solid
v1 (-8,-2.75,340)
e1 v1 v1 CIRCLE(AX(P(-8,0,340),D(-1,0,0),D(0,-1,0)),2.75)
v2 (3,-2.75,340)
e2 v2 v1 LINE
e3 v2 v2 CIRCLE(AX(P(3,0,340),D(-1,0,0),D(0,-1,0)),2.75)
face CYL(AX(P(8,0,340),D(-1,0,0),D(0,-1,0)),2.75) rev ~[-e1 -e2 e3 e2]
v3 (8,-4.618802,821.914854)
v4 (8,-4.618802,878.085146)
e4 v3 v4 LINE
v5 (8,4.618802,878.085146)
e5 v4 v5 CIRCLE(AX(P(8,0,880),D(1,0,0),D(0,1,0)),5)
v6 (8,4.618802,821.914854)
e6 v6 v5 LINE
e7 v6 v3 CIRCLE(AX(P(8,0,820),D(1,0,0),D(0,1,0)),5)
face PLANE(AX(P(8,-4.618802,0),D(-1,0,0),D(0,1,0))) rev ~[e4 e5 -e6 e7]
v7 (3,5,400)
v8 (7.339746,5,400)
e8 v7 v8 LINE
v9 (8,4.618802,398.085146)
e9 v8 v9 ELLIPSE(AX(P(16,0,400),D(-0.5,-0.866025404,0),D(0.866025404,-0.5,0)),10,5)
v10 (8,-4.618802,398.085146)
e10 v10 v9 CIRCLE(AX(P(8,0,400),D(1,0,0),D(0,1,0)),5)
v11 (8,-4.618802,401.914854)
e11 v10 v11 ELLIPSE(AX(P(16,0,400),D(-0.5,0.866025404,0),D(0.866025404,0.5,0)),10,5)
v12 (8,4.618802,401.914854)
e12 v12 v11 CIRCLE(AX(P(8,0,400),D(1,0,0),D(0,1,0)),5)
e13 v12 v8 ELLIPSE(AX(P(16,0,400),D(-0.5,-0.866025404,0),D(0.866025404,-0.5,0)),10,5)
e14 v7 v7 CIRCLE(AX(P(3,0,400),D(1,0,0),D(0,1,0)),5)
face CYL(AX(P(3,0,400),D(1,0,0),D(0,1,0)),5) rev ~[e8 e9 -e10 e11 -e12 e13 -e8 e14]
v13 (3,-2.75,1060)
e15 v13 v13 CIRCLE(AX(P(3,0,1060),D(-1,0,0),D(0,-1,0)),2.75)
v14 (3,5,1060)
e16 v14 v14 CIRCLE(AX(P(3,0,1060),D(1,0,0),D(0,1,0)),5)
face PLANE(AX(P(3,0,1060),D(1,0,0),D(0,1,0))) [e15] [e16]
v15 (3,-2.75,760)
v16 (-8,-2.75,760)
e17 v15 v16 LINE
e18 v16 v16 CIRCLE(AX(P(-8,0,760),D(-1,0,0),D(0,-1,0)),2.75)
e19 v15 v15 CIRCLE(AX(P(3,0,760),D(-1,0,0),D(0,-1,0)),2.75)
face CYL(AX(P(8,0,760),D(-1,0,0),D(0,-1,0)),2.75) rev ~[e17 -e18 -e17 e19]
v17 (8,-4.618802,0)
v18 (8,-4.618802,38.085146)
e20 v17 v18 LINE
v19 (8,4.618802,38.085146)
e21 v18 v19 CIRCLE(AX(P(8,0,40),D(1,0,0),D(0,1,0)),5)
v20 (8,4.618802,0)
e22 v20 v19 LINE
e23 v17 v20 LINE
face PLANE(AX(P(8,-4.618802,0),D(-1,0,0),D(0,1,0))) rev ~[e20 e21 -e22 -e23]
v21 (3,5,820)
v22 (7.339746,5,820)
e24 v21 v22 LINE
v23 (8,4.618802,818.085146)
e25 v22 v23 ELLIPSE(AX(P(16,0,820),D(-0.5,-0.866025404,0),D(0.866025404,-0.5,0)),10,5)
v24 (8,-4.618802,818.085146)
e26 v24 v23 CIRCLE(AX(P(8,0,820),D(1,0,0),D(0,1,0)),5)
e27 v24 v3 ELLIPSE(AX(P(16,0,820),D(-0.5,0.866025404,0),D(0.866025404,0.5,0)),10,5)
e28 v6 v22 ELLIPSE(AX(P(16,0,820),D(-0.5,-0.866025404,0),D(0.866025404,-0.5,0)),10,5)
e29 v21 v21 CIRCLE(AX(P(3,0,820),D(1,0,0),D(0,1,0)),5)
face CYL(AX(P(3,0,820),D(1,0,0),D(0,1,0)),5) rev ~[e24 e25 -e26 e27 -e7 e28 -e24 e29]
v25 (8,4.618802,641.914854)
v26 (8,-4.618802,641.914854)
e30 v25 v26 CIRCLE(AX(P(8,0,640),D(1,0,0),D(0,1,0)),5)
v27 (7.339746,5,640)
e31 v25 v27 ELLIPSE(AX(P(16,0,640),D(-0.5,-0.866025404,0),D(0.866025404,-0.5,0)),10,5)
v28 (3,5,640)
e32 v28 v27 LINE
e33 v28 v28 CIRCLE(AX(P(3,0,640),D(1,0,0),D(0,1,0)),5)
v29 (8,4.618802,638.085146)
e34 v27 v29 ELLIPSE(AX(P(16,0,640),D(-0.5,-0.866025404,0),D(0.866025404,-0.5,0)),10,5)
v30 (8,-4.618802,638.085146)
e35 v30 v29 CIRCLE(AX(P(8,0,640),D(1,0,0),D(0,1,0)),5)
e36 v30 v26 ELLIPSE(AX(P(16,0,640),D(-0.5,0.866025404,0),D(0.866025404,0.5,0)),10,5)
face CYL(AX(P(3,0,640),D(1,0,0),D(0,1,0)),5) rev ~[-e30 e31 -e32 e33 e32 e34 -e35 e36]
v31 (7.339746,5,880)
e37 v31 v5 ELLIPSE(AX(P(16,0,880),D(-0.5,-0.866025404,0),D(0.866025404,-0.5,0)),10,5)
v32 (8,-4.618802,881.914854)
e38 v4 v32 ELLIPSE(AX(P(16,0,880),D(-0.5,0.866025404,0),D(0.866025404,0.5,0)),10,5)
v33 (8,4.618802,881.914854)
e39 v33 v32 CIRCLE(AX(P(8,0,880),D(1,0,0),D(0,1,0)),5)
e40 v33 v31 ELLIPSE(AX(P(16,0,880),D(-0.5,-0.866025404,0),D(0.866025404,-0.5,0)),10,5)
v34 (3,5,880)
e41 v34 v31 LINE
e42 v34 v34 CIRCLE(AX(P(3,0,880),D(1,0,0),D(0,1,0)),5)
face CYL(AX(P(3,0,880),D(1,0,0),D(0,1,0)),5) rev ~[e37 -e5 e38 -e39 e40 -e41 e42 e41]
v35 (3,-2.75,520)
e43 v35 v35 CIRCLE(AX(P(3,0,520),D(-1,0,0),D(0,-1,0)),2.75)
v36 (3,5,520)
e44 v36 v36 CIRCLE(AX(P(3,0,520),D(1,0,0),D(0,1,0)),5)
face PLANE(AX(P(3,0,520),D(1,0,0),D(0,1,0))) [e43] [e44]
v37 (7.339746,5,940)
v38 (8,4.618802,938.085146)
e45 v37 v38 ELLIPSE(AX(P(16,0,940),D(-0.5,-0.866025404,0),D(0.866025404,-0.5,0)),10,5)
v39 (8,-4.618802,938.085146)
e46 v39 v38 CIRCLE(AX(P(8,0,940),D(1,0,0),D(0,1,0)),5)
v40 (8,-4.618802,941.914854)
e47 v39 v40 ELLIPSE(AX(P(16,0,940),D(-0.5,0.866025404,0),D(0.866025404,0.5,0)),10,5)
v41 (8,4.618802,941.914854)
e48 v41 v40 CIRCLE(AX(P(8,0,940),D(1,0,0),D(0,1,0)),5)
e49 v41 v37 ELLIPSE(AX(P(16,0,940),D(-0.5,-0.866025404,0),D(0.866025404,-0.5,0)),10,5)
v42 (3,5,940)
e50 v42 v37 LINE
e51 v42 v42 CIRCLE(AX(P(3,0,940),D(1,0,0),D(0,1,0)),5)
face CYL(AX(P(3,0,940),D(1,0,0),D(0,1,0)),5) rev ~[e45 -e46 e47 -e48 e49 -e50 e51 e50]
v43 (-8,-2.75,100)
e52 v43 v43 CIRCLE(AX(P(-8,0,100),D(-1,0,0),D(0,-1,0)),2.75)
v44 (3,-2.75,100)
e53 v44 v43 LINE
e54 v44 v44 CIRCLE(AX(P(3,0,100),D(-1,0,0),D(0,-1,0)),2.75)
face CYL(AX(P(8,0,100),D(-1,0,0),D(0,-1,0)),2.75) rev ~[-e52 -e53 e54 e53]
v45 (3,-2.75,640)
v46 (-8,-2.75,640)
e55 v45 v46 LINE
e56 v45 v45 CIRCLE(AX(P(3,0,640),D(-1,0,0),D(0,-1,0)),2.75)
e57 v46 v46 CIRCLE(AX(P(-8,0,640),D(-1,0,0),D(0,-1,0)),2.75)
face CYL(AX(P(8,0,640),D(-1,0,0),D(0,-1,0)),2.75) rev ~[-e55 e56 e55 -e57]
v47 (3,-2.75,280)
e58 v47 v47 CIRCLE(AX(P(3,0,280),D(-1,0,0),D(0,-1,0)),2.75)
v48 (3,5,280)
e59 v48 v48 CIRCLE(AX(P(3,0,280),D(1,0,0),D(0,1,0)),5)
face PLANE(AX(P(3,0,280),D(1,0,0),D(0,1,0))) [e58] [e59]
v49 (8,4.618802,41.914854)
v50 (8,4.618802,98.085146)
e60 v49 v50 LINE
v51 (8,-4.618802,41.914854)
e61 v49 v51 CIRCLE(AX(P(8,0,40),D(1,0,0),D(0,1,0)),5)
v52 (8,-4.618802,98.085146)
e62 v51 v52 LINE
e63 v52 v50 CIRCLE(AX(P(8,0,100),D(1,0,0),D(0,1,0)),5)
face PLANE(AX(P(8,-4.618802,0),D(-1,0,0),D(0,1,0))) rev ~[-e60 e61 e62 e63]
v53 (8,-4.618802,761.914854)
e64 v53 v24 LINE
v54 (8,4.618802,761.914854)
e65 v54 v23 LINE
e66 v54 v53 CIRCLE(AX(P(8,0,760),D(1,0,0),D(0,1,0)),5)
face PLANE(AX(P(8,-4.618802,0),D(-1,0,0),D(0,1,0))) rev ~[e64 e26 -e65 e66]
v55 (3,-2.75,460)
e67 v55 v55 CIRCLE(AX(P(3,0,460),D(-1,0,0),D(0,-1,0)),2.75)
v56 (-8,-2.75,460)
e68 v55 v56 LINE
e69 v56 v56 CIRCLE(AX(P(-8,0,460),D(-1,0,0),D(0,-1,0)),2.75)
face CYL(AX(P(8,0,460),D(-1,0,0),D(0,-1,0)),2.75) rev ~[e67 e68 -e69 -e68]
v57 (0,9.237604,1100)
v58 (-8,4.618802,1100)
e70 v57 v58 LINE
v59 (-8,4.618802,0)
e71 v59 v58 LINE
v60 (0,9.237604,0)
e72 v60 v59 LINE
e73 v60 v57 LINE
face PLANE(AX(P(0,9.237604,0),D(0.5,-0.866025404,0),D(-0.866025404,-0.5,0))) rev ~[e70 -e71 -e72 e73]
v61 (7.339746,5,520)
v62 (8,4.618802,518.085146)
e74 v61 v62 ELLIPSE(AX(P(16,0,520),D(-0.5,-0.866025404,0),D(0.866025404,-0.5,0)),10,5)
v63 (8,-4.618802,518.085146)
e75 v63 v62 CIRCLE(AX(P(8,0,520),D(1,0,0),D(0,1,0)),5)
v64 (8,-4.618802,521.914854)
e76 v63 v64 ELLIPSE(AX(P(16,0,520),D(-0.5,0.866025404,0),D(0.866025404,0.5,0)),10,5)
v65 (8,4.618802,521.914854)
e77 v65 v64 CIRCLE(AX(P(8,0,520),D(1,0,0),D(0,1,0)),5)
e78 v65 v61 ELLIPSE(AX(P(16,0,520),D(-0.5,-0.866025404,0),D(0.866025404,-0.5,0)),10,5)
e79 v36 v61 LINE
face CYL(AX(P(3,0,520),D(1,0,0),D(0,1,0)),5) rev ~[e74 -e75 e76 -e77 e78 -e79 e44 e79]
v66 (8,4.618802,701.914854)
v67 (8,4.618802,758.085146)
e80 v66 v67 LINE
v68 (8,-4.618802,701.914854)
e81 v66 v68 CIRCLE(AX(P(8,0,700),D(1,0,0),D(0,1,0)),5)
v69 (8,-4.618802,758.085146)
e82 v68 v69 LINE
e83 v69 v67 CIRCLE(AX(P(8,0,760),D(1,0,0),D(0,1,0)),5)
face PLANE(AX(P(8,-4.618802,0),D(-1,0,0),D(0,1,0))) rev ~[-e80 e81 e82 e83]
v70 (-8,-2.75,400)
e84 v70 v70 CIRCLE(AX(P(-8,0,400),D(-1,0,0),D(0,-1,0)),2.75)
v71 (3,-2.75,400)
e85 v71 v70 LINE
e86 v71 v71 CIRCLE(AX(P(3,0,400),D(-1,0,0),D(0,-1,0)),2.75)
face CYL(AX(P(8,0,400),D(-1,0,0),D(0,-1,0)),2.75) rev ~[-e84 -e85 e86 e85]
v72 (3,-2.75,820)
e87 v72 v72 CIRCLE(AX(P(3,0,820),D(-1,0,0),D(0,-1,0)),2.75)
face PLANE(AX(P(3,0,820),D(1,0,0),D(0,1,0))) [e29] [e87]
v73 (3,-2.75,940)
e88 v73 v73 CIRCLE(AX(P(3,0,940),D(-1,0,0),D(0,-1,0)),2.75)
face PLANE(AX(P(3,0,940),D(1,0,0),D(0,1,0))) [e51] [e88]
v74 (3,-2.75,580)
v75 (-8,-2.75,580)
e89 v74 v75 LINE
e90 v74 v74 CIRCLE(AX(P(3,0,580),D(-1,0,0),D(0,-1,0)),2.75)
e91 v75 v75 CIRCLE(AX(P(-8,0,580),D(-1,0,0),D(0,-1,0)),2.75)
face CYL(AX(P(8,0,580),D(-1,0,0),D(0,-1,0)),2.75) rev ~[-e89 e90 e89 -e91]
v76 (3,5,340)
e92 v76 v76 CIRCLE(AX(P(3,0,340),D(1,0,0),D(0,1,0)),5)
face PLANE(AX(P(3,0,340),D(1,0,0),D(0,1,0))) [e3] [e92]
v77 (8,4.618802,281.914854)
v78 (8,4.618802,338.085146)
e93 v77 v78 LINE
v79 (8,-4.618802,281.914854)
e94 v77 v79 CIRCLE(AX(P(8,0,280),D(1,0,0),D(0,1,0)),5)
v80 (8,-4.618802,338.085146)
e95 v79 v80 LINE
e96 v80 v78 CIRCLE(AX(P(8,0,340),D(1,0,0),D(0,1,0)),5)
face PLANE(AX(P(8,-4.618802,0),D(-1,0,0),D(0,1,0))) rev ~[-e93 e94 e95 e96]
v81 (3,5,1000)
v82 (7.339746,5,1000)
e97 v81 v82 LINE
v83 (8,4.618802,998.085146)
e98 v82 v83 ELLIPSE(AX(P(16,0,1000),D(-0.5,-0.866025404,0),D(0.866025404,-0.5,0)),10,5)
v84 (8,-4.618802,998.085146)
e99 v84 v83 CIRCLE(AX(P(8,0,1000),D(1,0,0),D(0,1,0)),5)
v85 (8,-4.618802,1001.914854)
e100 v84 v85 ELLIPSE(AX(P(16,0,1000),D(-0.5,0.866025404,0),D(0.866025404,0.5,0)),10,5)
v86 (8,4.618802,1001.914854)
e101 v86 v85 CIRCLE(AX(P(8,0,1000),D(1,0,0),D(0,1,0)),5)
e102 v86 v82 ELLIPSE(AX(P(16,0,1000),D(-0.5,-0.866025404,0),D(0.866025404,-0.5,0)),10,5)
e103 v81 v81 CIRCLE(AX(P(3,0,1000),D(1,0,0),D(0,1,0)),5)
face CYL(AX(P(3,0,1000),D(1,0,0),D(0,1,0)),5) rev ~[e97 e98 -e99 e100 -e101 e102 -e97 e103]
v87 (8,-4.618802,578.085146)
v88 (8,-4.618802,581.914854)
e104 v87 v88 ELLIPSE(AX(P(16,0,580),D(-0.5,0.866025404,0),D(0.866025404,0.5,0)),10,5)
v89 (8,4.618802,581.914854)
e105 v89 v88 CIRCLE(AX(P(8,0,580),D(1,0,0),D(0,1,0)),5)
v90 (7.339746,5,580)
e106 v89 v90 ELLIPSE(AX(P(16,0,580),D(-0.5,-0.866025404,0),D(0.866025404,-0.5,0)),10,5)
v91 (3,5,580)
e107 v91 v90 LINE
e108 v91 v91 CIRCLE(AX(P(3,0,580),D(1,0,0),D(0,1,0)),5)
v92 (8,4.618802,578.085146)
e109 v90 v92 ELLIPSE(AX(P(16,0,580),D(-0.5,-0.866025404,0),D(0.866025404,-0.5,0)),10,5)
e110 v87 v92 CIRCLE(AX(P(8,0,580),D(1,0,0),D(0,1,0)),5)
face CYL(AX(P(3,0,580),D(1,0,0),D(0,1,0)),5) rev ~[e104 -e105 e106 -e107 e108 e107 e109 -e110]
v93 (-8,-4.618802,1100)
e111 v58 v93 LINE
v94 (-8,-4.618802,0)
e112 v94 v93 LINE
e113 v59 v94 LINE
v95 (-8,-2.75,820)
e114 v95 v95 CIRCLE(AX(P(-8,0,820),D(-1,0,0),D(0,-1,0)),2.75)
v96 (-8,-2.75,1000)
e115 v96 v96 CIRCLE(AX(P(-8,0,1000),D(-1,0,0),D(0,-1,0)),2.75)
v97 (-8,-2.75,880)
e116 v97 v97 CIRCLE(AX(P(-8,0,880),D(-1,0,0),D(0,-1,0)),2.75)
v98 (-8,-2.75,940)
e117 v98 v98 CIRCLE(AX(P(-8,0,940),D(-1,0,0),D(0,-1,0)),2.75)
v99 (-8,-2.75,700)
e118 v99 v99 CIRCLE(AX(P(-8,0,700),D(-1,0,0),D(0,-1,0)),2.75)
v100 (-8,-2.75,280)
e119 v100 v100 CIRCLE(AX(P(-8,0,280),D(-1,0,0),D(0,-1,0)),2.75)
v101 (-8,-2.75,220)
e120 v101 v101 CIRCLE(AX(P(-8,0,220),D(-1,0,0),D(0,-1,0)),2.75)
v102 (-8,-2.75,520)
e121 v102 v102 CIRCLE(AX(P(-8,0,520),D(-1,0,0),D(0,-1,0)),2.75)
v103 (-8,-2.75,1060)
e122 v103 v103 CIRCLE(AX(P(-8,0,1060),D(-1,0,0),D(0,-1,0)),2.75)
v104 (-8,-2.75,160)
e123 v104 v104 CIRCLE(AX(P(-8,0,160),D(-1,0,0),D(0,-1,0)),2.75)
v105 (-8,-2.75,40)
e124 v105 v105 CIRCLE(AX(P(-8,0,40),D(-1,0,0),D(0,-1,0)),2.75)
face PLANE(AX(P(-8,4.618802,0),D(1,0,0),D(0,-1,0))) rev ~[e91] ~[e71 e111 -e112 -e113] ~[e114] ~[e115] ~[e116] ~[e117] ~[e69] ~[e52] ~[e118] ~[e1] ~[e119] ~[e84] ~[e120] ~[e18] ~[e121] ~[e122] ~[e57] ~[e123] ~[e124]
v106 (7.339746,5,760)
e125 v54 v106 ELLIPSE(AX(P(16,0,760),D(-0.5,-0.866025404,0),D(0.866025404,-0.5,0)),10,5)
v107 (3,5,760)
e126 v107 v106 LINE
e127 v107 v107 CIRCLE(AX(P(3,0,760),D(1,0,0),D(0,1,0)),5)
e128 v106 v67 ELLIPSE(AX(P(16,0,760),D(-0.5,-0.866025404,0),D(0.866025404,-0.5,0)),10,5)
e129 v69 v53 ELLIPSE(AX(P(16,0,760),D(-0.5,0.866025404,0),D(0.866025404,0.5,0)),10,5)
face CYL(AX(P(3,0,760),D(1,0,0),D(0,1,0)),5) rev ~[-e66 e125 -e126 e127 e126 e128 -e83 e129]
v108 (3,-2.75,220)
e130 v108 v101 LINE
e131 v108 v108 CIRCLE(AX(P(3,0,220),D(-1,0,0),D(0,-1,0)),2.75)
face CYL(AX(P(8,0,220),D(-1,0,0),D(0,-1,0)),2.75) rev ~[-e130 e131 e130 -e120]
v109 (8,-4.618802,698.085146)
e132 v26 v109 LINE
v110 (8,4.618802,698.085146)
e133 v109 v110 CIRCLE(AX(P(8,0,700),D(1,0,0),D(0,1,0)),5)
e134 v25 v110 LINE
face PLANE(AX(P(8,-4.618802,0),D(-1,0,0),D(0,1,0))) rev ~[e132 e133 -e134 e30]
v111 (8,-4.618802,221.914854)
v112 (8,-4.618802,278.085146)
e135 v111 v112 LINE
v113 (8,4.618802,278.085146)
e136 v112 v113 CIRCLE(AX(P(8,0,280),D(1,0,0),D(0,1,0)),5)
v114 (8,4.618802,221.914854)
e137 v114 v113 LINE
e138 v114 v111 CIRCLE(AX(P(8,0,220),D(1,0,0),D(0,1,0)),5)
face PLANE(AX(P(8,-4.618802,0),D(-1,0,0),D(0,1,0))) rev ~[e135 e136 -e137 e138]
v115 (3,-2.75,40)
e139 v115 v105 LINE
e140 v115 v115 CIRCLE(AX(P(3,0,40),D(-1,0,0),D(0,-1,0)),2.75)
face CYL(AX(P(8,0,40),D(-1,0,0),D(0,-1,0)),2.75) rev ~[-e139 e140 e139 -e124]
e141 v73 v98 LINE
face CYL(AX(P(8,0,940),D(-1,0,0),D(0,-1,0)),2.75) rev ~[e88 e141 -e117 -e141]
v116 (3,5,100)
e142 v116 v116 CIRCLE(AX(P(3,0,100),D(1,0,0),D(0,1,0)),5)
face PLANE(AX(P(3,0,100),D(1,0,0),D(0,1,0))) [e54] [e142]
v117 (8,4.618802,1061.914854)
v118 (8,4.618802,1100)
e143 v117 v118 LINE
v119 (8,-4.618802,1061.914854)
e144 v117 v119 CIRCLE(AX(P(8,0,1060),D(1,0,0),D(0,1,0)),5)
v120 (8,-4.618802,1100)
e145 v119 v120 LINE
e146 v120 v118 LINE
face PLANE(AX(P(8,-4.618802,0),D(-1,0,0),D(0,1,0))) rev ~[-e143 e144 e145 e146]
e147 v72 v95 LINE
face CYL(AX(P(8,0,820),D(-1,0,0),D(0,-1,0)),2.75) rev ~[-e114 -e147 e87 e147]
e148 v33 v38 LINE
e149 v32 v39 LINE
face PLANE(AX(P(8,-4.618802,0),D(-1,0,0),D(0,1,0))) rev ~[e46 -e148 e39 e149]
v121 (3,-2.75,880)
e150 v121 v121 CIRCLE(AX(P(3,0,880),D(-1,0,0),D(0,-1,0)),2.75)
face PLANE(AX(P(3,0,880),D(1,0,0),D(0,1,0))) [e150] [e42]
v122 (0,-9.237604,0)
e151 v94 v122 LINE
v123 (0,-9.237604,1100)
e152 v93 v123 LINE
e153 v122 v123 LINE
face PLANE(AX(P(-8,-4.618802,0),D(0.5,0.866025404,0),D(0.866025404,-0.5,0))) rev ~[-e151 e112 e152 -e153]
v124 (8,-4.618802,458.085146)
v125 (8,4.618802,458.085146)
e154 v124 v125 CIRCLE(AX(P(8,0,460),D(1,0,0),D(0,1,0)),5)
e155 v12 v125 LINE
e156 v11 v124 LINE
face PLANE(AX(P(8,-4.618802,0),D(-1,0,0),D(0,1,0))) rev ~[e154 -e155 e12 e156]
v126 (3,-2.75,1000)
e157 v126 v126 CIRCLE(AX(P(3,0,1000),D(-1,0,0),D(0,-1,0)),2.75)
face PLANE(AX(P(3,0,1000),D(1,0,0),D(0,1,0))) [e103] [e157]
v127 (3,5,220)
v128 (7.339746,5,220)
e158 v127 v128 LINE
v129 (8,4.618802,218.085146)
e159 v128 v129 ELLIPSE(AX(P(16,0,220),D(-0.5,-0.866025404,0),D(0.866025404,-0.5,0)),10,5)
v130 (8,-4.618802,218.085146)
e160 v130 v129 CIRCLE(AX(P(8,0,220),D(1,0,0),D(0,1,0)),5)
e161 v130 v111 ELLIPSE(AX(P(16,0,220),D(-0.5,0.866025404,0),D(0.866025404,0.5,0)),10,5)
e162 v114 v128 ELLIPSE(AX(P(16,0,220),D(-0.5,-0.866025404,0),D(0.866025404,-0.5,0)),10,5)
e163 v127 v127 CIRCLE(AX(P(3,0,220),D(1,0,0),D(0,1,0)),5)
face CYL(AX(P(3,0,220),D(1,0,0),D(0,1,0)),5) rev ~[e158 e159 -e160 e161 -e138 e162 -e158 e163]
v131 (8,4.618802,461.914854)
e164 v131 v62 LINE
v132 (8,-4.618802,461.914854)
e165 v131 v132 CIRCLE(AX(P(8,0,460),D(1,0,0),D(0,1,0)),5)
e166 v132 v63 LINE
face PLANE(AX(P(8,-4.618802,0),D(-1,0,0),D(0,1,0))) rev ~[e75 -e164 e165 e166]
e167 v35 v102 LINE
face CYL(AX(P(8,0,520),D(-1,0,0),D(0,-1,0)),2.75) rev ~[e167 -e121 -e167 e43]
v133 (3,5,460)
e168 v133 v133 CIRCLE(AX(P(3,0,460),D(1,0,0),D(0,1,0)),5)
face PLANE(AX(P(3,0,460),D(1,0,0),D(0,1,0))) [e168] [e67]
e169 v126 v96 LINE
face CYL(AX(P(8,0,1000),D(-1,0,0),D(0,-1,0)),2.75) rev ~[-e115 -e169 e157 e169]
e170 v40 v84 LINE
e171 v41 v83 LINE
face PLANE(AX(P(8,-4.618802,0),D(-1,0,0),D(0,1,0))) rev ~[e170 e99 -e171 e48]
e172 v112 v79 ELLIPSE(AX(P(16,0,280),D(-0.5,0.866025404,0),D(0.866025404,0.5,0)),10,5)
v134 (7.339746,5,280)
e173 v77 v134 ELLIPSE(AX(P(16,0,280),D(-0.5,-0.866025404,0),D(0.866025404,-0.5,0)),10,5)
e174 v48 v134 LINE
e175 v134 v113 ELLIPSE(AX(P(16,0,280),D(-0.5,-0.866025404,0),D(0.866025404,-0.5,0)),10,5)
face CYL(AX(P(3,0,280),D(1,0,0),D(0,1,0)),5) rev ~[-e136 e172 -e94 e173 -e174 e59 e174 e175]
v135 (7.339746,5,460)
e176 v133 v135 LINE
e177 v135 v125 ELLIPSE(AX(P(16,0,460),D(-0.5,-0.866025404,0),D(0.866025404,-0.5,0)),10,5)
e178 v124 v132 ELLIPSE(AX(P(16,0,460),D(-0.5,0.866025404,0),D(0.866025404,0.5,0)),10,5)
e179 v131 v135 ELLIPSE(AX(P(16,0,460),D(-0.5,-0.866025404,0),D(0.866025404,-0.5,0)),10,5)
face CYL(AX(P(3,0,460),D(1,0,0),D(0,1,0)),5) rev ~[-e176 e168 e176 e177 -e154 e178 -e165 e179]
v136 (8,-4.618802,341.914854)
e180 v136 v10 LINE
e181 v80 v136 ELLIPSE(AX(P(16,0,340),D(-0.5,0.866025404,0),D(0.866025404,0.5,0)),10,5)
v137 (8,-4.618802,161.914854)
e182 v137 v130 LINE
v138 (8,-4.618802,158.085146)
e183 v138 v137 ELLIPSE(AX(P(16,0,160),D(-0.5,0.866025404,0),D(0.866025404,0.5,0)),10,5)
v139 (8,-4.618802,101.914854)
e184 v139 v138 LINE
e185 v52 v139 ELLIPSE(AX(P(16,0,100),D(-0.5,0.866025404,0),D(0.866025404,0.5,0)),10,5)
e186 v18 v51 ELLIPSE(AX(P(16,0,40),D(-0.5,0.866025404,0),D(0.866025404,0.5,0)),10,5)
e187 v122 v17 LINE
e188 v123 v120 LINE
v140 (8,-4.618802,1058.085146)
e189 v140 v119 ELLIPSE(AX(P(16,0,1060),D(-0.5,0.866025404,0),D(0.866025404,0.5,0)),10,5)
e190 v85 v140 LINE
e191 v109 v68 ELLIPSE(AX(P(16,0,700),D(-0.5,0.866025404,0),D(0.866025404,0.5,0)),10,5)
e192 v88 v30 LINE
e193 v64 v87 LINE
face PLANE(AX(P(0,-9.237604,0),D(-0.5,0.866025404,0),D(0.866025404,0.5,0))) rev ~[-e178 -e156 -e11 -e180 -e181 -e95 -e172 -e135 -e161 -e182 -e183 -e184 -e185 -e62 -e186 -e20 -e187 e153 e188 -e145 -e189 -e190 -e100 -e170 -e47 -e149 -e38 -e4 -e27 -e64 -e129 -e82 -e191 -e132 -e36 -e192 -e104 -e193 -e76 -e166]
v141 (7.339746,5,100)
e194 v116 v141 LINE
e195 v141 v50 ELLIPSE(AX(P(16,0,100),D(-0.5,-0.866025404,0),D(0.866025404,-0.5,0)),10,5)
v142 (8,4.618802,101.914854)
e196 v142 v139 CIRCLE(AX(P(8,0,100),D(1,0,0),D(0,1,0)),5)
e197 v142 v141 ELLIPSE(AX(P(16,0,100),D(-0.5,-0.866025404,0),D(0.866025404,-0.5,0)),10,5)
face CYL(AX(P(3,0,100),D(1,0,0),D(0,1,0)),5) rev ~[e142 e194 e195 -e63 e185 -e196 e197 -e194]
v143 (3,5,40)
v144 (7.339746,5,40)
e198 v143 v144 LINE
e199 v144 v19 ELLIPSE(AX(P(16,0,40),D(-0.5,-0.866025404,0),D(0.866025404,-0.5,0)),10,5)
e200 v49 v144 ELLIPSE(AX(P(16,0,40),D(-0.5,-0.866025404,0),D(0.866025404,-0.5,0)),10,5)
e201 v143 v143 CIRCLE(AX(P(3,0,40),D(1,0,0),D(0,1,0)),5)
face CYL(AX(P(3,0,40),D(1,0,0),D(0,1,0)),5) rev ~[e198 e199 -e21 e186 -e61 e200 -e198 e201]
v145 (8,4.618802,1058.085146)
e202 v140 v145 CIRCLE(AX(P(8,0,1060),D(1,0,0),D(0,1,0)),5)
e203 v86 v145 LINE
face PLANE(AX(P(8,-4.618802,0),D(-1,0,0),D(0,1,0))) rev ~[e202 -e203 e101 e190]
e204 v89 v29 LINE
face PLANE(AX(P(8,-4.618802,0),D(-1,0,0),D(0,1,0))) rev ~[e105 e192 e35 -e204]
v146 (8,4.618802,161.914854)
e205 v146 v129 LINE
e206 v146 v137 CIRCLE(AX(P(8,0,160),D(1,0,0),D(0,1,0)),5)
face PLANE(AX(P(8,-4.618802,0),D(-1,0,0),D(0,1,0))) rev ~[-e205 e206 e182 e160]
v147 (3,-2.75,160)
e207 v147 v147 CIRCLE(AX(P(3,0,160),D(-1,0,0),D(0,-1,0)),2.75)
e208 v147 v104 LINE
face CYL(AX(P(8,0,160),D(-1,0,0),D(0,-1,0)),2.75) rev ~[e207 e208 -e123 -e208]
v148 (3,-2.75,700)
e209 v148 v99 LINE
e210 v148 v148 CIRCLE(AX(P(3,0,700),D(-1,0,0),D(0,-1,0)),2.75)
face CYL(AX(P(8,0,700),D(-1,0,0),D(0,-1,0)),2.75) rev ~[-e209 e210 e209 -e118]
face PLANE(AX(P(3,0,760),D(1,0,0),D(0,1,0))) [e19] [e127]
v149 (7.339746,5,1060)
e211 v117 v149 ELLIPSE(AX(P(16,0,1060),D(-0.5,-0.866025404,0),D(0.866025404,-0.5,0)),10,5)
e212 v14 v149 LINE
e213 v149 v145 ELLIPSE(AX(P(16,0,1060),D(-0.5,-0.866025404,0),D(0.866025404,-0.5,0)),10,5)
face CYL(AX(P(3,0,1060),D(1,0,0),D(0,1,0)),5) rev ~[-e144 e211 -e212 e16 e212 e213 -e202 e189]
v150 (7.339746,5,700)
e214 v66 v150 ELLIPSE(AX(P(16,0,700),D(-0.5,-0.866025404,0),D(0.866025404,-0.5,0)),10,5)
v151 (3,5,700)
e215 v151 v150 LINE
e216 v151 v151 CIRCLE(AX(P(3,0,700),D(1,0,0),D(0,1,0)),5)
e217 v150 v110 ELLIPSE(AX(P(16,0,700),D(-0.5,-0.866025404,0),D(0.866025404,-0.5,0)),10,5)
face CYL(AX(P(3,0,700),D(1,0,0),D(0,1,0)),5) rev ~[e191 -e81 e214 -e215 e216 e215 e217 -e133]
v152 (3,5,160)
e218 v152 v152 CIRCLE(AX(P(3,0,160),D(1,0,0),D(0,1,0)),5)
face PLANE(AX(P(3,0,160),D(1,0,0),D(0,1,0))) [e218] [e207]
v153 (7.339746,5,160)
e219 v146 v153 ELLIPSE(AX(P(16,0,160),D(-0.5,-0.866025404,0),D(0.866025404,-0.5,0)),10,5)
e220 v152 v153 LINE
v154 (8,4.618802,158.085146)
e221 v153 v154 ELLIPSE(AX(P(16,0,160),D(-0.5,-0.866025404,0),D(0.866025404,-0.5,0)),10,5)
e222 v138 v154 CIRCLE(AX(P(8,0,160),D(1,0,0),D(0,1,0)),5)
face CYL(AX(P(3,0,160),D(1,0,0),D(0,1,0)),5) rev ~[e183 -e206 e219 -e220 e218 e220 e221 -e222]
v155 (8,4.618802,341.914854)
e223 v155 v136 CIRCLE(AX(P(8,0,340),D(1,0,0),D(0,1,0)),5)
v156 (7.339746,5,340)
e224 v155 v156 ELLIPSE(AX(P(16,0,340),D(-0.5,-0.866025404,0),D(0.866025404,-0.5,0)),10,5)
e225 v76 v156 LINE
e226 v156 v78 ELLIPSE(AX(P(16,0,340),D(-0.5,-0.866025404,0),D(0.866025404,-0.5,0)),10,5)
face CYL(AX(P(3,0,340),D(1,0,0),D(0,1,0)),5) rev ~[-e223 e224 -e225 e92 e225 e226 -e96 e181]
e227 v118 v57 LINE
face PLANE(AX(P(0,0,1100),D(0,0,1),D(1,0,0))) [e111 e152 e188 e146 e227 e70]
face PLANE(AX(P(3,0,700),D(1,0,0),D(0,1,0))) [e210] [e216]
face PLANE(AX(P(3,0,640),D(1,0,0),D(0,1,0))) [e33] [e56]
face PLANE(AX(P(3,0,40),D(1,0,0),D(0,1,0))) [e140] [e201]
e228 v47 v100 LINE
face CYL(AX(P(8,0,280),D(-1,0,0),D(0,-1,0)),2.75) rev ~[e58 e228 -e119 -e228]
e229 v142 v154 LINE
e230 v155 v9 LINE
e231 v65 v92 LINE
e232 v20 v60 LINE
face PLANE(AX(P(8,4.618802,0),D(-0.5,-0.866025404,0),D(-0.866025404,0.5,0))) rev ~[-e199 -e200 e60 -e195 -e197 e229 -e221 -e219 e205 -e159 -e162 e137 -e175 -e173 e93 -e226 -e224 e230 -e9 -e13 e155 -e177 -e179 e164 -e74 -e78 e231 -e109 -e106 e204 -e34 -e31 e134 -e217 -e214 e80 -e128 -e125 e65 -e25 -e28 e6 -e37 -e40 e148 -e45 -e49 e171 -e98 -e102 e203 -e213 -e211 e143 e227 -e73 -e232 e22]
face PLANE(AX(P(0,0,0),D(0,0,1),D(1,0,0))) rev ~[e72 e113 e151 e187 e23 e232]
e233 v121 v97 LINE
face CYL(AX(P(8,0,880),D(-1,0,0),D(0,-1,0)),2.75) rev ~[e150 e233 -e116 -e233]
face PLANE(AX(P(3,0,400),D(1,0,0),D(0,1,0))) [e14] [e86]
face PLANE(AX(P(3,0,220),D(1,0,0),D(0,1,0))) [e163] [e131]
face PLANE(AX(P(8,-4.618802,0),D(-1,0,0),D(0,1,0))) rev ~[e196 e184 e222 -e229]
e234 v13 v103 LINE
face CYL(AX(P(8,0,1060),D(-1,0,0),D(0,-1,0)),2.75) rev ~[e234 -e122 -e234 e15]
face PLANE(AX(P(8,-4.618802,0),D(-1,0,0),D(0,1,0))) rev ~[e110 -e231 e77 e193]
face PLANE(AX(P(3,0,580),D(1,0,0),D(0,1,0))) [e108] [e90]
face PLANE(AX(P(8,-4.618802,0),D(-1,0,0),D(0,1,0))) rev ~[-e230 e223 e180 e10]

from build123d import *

# Parameters (mm, degrees)
BOSS_EXTRUDE1_DEPTH                             = 1100
CBORE_FOR_M5_SOCKET_HEAD_CAP_SCREW1_D           = 5.5
CBORE_FOR_M5_SOCKET_HEAD_CAP_SCREW1_CBORE_D     = 10
CBORE_FOR_M5_SOCKET_HEAD_CAP_SCREW1_CBORE_DEPTH = 5
LPATTERN1_COUNT                                 = 18
LPATTERN1_PITCH                                 = 60


with BuildPart() as part:
    # Sketch1 → Boss-Extrude1 (new body)
    with BuildSketch(Plane.XY):
        Polygon((0, -9.237604307), (8, -4.618802154), (8, 4.618802154), (0, 9.237604307), (-8, 4.618802154), (-8, -4.618802154), align=None)
    extrude(amount=BOSS_EXTRUDE1_DEPTH)

    # CBORE for M5 Socket Head Cap Screw1 (through all)
    with Locations(Plane(origin=(8, 0, 1060), x_dir=(0, 1, 0), z_dir=(1, 0, 0))):
        with Locations((0, 0)):
            cbore_for_m5_socket_head_cap_screw1 = CounterBoreHole(CBORE_FOR_M5_SOCKET_HEAD_CAP_SCREW1_D / 2, CBORE_FOR_M5_SOCKET_HEAD_CAP_SCREW1_CBORE_D / 2, CBORE_FOR_M5_SOCKET_HEAD_CAP_SCREW1_CBORE_DEPTH)

    # LPattern1: CBORE for M5 Socket Head Cap Screw1 ×18
    with Locations(*[(0, 0, -i * LPATTERN1_PITCH) for i in range(1, LPATTERN1_COUNT)]):
        add(cbore_for_m5_socket_head_cap_screw1, mode=Mode.SUBTRACT)


solid = part.part
